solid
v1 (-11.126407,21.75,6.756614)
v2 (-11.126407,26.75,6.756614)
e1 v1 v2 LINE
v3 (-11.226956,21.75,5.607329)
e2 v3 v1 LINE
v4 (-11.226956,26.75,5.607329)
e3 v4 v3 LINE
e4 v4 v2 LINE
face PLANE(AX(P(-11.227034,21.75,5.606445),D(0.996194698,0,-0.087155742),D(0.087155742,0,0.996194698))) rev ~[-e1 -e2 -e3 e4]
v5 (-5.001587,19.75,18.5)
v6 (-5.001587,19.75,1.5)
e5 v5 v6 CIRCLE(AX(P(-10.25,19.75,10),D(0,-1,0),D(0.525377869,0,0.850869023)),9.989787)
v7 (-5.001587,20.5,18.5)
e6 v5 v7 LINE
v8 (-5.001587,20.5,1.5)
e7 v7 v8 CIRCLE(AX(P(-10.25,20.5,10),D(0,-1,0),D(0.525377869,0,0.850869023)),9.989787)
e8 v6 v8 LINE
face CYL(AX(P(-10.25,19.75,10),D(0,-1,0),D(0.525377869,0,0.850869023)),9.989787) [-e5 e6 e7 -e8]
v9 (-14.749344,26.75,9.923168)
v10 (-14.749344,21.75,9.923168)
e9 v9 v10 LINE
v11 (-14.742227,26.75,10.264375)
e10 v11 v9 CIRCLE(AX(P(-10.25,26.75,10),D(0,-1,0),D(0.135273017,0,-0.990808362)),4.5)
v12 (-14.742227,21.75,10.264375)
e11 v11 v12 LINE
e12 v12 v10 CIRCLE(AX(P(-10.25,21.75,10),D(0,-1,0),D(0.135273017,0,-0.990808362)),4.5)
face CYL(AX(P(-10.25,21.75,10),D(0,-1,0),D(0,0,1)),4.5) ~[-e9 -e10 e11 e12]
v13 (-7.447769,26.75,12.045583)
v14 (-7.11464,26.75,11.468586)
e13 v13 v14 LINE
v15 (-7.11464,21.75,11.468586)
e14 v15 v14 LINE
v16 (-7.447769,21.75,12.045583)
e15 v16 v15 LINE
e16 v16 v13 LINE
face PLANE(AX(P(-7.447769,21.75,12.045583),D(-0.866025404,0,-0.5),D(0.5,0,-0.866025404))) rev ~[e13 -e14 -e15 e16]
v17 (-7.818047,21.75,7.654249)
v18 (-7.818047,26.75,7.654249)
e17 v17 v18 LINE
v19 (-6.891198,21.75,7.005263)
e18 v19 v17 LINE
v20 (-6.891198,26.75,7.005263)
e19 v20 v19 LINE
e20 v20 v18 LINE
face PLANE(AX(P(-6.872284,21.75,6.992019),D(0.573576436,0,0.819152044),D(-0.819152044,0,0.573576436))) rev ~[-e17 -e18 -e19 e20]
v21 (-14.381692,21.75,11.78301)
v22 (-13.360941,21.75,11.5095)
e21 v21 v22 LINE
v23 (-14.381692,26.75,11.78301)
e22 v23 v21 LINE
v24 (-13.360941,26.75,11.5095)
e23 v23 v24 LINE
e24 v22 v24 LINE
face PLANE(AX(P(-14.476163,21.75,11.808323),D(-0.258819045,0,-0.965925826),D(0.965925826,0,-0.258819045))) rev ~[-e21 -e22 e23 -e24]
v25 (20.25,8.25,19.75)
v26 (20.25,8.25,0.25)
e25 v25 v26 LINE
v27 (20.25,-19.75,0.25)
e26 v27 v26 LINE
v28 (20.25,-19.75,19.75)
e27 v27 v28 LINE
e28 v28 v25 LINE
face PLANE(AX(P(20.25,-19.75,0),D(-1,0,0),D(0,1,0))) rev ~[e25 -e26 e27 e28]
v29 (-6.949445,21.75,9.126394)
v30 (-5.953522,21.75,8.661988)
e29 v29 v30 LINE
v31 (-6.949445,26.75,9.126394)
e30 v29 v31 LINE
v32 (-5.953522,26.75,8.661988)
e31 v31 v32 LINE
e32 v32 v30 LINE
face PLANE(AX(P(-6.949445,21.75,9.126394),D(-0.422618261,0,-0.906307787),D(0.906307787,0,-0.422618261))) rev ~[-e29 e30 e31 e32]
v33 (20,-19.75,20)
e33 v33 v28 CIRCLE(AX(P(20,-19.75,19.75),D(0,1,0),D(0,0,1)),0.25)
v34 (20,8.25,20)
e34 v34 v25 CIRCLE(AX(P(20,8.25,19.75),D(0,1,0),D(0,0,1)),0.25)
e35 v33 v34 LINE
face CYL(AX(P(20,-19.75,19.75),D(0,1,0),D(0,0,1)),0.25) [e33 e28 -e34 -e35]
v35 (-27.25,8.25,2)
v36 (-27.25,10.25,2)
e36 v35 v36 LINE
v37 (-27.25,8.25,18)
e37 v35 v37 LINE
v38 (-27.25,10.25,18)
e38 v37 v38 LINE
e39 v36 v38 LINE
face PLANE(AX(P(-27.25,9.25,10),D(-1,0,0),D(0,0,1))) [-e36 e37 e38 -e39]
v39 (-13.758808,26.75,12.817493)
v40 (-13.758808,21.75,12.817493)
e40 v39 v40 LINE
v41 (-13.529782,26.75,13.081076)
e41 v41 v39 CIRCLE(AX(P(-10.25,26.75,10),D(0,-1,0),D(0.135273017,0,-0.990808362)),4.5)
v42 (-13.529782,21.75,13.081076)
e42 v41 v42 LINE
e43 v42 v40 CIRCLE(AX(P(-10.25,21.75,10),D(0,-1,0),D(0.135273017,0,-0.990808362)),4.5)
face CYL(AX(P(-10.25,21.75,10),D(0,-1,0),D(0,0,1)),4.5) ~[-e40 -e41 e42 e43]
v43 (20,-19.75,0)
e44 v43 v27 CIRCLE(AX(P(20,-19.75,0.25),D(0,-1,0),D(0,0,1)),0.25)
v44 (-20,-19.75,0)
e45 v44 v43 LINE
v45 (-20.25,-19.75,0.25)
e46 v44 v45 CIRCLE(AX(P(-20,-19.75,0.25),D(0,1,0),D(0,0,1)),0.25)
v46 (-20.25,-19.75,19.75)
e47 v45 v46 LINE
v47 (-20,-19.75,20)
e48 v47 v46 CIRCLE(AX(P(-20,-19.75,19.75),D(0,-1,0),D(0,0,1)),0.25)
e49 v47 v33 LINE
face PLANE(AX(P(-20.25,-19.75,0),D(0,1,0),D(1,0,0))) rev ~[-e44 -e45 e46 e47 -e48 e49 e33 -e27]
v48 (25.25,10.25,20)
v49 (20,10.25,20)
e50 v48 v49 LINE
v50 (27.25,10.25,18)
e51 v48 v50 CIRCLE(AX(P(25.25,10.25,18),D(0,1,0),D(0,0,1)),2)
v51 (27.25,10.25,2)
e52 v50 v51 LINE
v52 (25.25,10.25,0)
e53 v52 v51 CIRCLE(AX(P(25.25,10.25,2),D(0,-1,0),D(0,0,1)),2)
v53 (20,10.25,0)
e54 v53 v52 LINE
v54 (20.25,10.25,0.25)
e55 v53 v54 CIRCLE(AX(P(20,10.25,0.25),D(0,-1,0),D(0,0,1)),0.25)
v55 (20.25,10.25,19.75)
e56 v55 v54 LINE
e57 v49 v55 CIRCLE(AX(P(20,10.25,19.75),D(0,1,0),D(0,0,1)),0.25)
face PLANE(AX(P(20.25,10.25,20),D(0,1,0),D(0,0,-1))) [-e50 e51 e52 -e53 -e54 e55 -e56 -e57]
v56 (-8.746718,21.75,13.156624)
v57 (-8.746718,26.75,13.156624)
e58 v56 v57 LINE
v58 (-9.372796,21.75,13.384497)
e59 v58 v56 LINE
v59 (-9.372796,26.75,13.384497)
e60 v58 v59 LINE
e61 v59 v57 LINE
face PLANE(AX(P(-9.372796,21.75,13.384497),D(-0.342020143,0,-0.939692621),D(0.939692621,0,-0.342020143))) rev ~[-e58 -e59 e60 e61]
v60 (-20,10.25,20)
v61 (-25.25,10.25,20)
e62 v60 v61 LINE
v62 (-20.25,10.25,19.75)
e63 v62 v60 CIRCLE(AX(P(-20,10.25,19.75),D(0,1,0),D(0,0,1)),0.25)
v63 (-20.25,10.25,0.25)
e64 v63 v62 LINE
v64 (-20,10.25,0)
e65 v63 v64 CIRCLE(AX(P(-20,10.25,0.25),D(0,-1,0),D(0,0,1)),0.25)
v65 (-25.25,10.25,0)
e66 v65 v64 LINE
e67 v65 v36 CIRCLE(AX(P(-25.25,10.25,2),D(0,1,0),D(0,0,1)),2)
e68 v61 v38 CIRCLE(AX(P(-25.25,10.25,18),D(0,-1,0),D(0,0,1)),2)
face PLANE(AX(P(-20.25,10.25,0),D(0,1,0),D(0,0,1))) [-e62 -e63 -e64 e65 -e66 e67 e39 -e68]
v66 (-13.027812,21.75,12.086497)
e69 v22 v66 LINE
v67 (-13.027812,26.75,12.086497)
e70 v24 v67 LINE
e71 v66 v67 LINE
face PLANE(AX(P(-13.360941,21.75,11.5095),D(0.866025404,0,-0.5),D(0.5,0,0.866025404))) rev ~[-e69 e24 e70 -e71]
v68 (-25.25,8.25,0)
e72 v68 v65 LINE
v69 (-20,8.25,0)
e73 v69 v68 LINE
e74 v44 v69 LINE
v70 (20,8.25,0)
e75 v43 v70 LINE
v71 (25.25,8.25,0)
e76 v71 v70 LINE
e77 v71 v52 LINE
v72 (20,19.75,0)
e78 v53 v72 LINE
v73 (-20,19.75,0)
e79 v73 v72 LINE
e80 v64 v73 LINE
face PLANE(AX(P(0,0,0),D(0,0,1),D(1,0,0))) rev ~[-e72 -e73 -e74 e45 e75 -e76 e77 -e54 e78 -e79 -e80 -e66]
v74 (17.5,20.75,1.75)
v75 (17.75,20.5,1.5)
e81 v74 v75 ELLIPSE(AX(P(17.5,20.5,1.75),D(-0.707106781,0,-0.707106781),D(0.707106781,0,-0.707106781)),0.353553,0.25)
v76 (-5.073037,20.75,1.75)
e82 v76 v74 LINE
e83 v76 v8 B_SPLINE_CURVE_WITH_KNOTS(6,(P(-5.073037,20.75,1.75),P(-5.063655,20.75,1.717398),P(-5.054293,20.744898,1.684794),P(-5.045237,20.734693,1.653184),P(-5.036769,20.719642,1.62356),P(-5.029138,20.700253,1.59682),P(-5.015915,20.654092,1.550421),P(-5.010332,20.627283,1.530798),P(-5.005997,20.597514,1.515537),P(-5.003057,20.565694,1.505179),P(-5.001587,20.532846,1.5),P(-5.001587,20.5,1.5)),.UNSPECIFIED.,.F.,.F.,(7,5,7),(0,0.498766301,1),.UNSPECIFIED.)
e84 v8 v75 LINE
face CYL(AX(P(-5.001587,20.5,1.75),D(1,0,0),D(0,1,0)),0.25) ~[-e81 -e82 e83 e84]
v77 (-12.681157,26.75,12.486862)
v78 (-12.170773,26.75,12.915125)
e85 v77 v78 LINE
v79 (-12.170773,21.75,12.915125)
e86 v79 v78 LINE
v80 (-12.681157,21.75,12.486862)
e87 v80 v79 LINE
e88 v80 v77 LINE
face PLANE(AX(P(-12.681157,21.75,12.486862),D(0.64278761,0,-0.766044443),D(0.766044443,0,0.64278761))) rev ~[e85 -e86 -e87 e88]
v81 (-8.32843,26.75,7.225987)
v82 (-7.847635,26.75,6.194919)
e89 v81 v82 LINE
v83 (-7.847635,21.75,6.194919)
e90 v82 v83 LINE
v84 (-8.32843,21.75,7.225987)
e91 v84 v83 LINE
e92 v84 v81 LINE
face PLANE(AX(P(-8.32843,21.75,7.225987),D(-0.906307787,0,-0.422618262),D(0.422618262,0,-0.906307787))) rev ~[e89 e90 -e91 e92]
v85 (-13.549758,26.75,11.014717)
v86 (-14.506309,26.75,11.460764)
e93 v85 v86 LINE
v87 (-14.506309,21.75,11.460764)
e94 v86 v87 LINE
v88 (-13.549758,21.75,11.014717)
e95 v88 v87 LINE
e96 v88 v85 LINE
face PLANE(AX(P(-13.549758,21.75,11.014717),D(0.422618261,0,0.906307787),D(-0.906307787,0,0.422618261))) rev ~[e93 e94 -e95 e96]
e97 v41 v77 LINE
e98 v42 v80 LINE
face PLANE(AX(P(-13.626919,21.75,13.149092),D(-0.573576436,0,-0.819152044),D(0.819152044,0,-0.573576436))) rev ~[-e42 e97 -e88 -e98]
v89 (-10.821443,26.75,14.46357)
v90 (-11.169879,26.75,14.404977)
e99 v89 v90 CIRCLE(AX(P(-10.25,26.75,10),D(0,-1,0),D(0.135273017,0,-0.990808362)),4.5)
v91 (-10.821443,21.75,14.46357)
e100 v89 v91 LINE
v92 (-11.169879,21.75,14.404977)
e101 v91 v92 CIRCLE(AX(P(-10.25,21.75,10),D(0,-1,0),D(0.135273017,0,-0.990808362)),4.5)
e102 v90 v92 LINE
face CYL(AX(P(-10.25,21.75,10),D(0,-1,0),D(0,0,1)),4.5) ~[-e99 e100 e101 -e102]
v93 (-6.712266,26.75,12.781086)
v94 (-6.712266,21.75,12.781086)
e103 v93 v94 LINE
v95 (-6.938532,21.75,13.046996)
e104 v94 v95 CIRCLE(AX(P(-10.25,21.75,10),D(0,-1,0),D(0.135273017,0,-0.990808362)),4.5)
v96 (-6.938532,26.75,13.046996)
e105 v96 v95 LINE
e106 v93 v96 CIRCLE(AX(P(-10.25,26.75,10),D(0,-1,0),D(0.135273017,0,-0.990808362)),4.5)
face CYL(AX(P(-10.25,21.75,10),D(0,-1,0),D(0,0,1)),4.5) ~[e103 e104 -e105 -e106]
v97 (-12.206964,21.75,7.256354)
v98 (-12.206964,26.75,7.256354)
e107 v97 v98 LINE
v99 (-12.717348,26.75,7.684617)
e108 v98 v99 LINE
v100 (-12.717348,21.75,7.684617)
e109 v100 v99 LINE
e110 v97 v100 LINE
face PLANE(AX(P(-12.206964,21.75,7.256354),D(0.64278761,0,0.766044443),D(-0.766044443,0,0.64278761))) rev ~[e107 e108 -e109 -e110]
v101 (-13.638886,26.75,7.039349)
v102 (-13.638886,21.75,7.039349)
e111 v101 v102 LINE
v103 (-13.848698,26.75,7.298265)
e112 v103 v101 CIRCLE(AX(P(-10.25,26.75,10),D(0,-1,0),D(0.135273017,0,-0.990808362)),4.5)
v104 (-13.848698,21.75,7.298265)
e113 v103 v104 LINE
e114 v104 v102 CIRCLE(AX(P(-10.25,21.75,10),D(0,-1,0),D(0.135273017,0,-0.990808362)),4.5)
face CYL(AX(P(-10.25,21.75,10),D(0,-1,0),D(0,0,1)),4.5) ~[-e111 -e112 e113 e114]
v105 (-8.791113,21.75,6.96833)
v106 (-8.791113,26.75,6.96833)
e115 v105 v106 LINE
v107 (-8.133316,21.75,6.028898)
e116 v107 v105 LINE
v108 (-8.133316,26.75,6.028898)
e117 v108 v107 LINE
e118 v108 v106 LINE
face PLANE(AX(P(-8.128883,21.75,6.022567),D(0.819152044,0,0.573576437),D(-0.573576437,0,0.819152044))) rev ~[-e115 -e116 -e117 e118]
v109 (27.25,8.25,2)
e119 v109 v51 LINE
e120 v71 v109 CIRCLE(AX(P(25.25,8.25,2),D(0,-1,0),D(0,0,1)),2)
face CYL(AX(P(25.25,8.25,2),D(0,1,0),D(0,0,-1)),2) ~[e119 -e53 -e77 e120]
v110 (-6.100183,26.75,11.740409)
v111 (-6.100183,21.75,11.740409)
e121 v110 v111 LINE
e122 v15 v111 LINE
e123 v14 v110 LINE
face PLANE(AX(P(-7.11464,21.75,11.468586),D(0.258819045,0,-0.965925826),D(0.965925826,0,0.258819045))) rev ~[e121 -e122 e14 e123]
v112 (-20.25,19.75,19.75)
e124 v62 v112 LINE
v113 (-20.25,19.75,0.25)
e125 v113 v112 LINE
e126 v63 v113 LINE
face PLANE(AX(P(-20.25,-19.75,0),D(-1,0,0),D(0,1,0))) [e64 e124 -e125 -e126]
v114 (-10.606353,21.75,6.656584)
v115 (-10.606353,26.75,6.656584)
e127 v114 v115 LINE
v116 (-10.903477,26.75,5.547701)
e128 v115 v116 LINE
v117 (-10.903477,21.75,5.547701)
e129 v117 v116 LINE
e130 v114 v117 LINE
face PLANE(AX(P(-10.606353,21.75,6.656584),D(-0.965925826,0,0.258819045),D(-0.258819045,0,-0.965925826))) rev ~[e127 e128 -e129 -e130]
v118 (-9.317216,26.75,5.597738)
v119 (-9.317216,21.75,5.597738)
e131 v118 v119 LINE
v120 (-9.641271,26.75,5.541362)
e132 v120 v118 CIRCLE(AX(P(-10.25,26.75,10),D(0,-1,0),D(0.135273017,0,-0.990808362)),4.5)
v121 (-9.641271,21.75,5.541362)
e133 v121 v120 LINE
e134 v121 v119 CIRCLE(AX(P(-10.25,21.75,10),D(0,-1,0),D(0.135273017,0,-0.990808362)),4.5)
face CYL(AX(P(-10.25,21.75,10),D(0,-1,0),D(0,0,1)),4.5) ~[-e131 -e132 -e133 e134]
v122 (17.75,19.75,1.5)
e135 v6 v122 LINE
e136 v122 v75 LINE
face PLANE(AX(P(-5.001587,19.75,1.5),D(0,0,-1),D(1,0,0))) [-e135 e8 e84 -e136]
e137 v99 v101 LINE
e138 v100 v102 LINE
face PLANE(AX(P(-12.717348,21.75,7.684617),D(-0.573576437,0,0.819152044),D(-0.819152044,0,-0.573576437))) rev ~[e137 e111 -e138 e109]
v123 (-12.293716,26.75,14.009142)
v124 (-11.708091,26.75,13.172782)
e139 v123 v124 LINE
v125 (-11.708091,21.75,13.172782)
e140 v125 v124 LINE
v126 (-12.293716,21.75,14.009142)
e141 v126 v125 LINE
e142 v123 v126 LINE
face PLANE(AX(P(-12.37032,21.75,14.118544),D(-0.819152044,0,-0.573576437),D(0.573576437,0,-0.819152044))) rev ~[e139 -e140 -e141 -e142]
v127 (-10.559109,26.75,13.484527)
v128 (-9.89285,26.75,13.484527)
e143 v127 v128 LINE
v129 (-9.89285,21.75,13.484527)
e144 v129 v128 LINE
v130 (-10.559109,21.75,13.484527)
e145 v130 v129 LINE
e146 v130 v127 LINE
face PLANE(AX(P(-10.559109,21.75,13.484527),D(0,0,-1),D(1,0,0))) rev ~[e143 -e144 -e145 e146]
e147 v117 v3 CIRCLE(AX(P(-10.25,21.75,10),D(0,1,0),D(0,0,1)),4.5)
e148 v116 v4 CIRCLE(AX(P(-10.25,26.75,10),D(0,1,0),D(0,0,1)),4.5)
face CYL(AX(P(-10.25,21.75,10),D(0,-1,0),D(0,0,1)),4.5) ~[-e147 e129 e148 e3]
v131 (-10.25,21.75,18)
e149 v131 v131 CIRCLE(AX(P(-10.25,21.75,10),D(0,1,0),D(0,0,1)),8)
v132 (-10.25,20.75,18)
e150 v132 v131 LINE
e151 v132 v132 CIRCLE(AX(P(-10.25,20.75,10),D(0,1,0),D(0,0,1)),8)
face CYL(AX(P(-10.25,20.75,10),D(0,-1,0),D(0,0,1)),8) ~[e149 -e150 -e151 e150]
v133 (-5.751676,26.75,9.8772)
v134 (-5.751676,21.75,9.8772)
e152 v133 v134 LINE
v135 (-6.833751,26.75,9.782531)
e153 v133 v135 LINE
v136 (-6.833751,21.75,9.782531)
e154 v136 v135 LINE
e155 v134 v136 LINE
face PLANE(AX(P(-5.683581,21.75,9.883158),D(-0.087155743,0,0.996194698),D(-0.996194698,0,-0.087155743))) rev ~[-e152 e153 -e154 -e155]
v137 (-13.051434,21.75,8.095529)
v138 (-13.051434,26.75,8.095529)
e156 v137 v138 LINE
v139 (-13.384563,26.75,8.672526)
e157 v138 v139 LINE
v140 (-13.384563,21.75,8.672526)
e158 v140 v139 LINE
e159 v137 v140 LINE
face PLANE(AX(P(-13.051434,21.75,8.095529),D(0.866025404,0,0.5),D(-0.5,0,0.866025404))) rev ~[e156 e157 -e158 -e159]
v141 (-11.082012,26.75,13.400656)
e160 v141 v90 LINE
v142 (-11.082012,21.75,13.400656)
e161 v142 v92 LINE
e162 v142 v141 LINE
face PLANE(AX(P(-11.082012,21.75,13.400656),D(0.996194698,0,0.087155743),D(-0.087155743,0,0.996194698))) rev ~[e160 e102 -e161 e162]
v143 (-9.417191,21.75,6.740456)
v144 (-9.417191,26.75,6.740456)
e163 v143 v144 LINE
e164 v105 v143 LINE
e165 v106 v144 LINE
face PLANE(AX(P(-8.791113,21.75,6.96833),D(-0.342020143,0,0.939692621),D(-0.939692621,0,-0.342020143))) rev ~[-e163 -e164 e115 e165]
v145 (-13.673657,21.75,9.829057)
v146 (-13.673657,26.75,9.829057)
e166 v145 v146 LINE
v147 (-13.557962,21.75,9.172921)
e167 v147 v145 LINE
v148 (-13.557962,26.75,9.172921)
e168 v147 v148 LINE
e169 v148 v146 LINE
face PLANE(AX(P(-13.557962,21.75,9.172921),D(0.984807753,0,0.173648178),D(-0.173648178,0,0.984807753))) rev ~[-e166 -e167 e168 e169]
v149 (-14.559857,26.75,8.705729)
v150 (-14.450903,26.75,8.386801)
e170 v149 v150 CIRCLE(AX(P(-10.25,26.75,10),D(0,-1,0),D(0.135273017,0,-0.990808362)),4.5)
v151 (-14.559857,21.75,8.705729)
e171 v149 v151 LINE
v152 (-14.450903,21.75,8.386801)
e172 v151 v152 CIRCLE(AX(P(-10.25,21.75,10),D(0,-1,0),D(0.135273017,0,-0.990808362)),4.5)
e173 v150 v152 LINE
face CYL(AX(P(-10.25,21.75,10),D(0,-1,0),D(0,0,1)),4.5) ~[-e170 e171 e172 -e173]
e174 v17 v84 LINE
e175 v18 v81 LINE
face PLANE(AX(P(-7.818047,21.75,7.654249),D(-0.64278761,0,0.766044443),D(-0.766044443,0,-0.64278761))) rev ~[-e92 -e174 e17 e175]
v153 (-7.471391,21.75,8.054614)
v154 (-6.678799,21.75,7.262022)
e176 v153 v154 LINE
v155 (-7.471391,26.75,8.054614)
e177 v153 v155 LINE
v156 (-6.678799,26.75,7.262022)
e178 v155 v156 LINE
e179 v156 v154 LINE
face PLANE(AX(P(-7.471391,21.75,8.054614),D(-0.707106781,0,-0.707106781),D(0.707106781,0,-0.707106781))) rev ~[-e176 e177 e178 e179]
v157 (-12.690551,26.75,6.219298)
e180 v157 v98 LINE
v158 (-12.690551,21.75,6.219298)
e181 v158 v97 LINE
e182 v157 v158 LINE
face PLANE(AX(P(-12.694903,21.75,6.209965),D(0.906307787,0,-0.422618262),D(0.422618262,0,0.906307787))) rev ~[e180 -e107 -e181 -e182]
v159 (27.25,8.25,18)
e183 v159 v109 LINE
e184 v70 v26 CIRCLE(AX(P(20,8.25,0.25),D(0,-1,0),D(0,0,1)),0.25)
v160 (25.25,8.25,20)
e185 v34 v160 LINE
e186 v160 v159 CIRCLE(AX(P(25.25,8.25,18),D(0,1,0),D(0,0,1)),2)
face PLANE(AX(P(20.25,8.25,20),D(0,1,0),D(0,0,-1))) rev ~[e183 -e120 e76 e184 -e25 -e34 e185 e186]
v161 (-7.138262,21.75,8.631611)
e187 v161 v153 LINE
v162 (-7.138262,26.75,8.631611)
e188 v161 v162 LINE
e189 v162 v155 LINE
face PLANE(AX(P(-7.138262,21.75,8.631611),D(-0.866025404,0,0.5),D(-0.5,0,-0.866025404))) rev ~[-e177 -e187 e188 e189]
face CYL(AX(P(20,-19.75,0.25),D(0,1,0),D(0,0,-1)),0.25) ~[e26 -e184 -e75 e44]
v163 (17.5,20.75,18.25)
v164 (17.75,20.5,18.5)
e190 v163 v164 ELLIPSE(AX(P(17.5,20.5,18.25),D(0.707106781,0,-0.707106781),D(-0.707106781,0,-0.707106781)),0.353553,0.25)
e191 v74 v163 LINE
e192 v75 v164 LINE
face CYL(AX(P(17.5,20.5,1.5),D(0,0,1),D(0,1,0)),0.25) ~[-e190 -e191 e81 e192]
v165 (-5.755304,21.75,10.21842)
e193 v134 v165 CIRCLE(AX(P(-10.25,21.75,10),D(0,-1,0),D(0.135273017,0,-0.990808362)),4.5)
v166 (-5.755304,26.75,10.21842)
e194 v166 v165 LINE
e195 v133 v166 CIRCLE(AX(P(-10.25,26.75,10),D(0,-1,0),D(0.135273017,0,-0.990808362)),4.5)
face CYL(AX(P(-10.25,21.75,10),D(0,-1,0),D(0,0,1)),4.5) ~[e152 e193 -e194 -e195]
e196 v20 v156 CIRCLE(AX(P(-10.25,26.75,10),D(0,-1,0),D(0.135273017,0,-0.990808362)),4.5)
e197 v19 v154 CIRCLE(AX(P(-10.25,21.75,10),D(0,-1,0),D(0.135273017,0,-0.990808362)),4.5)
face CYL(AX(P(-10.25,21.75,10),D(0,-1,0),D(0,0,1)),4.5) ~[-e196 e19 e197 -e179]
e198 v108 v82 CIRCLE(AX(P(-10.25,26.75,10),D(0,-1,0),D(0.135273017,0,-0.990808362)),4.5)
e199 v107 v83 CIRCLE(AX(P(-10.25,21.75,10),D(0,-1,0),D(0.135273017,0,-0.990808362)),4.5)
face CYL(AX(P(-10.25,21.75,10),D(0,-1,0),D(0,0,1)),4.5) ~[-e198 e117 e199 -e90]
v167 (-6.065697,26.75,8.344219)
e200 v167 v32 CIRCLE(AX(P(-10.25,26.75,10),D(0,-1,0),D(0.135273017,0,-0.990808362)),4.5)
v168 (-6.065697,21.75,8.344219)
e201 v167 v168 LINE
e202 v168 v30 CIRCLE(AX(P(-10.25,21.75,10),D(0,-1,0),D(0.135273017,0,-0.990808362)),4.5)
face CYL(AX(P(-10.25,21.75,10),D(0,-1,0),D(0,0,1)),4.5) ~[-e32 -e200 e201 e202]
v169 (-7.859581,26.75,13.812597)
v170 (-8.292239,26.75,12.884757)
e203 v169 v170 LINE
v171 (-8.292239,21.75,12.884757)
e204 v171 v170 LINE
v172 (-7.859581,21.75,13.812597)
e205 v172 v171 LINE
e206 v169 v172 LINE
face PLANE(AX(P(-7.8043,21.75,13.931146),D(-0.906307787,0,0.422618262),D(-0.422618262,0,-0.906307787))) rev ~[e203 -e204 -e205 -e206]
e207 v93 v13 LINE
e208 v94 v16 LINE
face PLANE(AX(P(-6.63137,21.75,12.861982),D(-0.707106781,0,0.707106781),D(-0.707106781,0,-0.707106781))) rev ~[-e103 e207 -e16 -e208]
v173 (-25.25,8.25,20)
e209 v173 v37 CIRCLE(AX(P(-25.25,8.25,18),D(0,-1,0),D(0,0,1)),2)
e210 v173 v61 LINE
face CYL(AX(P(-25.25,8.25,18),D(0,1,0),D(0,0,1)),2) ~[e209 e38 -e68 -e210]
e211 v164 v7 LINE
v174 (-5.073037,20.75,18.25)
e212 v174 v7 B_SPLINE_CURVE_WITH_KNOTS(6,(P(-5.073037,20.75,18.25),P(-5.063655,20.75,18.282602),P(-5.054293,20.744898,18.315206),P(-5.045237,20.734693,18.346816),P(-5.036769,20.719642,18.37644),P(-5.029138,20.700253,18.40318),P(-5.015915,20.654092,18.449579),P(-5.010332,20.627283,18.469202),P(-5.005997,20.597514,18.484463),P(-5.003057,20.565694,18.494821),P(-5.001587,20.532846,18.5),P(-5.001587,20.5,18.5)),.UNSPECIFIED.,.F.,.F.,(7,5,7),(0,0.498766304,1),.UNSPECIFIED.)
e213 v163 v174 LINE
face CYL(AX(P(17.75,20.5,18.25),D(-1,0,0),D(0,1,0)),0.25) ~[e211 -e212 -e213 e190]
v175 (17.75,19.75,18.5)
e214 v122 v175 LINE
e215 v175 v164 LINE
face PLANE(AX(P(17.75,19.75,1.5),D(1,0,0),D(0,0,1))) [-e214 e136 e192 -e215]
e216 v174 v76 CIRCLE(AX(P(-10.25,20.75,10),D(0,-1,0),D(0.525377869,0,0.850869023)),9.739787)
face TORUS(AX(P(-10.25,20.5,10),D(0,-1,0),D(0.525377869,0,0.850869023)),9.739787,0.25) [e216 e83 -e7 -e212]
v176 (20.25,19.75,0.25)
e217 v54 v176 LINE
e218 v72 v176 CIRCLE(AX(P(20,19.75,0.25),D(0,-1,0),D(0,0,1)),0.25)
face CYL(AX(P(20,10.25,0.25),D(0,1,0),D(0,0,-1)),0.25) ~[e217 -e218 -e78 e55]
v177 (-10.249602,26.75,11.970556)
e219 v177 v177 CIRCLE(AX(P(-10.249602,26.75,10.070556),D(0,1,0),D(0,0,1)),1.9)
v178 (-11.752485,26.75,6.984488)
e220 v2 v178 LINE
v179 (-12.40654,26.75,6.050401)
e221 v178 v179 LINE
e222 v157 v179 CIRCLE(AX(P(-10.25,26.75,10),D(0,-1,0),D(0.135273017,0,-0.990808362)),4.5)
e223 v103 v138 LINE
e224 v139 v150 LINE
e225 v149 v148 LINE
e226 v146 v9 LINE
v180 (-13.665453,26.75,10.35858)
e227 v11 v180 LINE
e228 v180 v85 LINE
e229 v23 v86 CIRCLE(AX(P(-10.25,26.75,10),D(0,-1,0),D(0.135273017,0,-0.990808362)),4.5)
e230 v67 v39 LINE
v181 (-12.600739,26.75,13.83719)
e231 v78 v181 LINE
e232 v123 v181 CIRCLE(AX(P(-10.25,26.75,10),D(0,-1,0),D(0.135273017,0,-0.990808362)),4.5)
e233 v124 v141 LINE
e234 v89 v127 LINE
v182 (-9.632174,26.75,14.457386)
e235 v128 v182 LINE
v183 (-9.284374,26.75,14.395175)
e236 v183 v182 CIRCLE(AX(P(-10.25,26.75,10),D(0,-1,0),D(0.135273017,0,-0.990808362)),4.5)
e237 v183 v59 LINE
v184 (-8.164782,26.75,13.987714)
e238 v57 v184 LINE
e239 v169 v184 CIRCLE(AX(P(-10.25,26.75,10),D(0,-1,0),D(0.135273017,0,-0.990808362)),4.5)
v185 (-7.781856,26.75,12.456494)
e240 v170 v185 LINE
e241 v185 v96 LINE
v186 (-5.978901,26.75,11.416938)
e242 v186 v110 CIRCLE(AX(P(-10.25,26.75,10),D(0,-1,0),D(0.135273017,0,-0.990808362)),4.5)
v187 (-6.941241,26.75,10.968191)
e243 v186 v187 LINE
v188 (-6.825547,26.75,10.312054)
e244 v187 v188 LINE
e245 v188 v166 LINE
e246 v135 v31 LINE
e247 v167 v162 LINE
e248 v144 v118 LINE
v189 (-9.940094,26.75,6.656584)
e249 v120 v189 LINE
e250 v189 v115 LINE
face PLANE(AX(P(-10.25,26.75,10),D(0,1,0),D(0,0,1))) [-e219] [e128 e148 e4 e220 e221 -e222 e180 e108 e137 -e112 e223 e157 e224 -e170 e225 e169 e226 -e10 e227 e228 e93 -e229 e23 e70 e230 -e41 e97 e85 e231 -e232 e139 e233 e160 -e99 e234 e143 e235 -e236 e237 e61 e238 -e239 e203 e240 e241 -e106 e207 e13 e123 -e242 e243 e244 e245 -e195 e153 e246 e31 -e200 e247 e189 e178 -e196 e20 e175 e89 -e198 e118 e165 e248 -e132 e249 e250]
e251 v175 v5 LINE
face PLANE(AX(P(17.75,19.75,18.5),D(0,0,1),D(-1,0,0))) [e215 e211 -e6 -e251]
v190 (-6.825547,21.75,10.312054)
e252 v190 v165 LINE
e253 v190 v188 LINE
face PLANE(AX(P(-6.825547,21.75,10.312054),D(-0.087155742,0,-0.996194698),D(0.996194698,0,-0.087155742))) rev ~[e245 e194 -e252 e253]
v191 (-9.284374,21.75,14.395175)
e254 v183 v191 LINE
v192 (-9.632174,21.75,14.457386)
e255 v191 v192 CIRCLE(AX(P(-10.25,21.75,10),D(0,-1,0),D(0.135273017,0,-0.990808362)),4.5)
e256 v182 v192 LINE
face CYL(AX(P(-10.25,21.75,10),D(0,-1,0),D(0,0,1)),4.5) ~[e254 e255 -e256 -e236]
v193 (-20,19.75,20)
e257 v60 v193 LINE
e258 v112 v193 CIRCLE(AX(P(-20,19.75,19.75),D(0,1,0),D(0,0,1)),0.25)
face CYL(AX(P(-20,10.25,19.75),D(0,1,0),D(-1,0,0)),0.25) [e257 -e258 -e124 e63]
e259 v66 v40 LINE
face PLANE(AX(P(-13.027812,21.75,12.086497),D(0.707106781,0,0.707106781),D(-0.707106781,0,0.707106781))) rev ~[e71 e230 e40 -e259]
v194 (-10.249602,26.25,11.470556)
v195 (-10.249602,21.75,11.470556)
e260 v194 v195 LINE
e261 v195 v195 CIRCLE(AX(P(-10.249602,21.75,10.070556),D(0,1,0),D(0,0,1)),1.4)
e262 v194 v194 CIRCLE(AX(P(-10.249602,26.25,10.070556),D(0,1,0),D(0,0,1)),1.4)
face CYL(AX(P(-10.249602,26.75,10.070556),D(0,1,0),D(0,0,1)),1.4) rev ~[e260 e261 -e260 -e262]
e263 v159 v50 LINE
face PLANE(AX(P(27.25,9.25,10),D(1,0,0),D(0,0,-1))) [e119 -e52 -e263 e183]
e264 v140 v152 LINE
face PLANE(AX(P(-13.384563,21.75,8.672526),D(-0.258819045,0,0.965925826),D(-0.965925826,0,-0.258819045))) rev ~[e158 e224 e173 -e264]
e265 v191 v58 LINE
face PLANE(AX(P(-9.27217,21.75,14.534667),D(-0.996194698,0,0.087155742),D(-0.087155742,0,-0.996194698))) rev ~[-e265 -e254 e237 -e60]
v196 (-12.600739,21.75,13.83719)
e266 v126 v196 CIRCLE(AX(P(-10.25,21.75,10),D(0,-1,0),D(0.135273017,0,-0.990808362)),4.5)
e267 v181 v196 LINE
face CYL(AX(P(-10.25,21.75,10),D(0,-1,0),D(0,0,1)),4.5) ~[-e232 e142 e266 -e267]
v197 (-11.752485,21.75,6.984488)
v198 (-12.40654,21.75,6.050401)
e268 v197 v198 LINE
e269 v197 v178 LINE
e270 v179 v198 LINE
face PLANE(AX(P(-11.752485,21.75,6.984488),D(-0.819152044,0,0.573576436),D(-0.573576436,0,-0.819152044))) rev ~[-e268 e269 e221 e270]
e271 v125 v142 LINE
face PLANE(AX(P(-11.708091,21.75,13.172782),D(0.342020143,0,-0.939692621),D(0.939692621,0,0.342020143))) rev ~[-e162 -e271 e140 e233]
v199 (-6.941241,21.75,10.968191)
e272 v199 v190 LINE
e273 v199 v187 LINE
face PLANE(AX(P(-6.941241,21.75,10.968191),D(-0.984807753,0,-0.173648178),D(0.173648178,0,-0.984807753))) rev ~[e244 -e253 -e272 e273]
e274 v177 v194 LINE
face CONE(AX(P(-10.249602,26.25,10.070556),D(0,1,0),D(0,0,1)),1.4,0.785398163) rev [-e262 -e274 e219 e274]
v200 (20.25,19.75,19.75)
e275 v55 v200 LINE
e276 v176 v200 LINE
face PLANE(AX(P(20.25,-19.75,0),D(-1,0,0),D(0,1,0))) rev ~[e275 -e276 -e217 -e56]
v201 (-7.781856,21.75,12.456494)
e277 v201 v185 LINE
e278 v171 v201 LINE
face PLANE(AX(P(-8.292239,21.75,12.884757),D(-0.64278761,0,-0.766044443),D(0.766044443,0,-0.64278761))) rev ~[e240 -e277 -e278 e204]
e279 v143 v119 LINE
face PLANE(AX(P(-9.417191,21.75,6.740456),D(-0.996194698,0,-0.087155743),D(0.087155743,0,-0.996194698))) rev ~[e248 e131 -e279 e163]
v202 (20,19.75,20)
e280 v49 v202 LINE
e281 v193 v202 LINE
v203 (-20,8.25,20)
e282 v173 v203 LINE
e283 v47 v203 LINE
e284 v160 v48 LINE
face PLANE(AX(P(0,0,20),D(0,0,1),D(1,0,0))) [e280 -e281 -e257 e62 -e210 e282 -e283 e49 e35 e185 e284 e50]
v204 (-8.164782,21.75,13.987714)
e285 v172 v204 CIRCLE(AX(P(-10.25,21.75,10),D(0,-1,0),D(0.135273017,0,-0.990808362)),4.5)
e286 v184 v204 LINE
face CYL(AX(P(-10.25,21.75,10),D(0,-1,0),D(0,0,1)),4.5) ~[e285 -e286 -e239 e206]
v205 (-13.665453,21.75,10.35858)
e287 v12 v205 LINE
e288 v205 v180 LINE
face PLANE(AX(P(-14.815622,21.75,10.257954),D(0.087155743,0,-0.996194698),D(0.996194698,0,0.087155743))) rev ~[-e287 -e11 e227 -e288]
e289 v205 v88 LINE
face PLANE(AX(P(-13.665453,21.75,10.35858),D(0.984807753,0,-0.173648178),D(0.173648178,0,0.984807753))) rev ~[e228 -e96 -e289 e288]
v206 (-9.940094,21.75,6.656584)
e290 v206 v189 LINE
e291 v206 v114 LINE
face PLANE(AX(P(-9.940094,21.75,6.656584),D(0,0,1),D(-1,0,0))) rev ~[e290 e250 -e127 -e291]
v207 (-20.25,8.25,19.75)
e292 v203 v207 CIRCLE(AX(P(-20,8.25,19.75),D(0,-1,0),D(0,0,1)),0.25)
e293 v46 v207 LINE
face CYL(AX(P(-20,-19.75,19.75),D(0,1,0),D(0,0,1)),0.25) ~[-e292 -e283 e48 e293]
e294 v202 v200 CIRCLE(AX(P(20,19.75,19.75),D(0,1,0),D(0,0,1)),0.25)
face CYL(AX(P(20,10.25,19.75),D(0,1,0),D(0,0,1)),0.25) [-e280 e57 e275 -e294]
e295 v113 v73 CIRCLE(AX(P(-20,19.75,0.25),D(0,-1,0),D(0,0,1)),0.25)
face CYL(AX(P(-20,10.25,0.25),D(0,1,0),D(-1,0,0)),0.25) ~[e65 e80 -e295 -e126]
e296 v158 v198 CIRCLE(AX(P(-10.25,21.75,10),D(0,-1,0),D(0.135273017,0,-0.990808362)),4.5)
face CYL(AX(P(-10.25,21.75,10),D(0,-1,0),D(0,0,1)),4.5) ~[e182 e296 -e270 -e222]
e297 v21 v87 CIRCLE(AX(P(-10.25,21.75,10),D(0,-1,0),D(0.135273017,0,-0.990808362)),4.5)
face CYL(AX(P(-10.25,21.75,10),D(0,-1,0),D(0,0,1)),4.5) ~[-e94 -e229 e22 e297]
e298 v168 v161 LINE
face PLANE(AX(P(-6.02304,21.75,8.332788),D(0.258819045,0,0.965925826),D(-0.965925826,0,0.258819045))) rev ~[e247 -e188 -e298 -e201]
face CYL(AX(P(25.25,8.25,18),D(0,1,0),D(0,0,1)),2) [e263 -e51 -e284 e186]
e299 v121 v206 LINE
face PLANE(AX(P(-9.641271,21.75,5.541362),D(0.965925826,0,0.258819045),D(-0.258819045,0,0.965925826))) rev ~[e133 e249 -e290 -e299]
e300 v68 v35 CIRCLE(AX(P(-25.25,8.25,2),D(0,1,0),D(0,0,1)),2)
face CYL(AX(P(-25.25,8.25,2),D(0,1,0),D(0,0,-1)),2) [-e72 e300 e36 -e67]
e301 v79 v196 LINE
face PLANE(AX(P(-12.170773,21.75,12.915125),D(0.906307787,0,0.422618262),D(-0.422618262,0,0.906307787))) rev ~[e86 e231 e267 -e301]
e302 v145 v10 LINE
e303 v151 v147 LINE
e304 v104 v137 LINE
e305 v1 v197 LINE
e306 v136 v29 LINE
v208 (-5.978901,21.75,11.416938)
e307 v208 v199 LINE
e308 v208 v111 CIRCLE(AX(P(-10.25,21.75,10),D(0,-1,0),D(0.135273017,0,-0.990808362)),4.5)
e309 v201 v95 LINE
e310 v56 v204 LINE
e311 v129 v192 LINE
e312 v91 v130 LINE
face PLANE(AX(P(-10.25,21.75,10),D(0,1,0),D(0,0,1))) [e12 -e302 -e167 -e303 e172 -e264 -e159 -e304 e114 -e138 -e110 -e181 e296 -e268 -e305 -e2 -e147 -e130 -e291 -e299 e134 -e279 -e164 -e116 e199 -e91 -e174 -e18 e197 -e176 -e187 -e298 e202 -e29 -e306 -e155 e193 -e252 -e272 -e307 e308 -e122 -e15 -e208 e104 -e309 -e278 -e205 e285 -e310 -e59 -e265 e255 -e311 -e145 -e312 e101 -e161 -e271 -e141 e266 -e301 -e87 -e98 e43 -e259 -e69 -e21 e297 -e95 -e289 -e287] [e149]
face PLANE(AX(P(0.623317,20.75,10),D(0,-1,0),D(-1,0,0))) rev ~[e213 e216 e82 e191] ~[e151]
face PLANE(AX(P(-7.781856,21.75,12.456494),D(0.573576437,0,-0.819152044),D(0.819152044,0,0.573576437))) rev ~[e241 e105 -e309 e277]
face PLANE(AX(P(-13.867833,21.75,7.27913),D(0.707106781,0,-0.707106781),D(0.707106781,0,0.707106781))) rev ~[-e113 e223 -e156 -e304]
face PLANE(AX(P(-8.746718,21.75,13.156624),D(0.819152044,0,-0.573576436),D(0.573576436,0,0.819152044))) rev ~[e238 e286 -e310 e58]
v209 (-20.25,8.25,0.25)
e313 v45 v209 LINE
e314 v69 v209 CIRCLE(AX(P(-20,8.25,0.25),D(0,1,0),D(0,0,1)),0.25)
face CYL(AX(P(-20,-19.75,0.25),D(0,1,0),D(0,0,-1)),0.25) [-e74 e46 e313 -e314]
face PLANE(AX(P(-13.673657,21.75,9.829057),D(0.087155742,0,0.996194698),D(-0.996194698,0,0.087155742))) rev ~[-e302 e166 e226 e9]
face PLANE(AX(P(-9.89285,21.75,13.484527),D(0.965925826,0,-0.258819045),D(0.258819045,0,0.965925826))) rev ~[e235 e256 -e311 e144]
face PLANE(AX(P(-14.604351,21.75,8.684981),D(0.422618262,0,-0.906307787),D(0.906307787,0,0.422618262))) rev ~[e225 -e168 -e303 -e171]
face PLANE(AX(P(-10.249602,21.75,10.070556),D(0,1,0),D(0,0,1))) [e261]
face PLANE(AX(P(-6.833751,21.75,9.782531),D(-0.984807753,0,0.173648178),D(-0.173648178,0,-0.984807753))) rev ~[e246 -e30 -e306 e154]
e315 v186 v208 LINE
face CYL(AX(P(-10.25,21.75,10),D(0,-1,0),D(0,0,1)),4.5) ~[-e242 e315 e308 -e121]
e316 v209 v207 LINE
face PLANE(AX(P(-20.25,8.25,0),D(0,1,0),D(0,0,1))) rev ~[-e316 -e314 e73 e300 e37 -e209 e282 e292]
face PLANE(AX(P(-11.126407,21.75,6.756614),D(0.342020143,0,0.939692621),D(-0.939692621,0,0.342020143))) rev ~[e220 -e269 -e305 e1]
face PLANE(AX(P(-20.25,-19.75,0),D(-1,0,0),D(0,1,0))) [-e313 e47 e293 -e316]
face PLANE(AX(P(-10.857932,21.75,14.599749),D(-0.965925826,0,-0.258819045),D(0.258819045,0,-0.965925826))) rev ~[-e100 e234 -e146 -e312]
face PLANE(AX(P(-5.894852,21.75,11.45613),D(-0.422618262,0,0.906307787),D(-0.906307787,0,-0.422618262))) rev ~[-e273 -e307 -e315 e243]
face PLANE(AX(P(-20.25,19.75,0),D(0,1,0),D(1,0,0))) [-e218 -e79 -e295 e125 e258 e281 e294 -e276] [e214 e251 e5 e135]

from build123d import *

# Parameters (mm, degrees)
ESQUISSE1_W                  = 40.5
ESQUISSE1_H                  = 39.5
BOSS_EXTRU_1_DEPTH           = 20
ESQUISSE2_W                  = 20
ESQUISSE2_H                  = 2
BOSS_EXTRU_2_DEPTH           = 7
ESQUISSE3_W                  = 20
ESQUISSE3_H                  = 2
BOSS_EXTRU_3_DEPTH           = 7
CONG_1_R                     = 2
BOSS_EXTRU_4_DEPTH           = 1
ESQUISSE6_R                  = 8
BOSS_EXTRU_5_DEPTH           = 1
ESQUISSE7_R                  = 4.5
BOSS_EXTRU_6_DEPTH           = 5
ENL_V_START                  = -5
ENL_V_MAT_EXTRU_2_DEPTH      = 5
R_P_TITION_CIRCULAIRE2_COUNT = 18
ESQUISSE9_R                  = 1.4
ENL_V_MAT_EXTRU_3_DEPTH      = 5
CHANFREIN1_SIZE              = 0.5
CONG_3_R                     = 0.25
CONG_4_R                     = 0.25


with BuildPart() as part:
    # Esquisse1 → Boss.-Extru.1 (new body)
    with BuildSketch(Plane.XY):
        Rectangle(ESQUISSE1_W, ESQUISSE1_H)
    extrude(amount=BOSS_EXTRU_1_DEPTH)

    # Esquisse2 → Boss.-Extru.2 (add)
    with BuildSketch(Plane.ZY.offset(20.25)):
        with Locations((10, 9.25)):
            Rectangle(ESQUISSE2_W, ESQUISSE2_H)
    extrude(amount=BOSS_EXTRU_2_DEPTH)

    # Esquisse3 → Boss.-Extru.3 (add)
    with BuildSketch(Plane(origin=(20.25, 0, 0), x_dir=(0, 0, -1), z_dir=(1, 0, 0))):
        with Locations((-10, 9.25)):
            Rectangle(ESQUISSE3_W, ESQUISSE3_H)
    extrude(amount=BOSS_EXTRU_3_DEPTH)

    # Congé1
    cong_1_edges = [part.edges().sort_by_distance(p)[0] for p in [
        (-27.25, 9.25, 0),
        (-27.25, 9.25, 20),
        (27.25, 9.25, 20),
        (27.25, 9.25, 0),
    ]]
    fillet(cong_1_edges, radius=CONG_1_R)

    # Esquisse4 → Boss.-Extru.4 (add)
    with BuildSketch(Plane(origin=(0, 19.75, 0), x_dir=(1, 0, 0), z_dir=(0, 1, 0))):
        with BuildLine():
            Line((17.75, -1.5), (17.75, -18.5))
            Line((17.75, -18.5), (-5.001587186, -18.5))
            ThreePointArc((-5.001587186, -18.5), (-20.239786638, -10), (-5.001587186, -1.5))
            Line((-5.001587186, -1.5), (17.75, -1.5))
        make_face()
    extrude(amount=BOSS_EXTRU_4_DEPTH)

    # Esquisse6 → Boss.-Extru.5 (add)
    with BuildSketch(Plane(origin=(0, 20.75, 0), x_dir=(1, 0, 0), z_dir=(0, 1, 0))):
        with Locations(Location((-10.25, -10, 0), (0, 0, 270))):
            Circle(ESQUISSE6_R)
    extrude(amount=BOSS_EXTRU_5_DEPTH)

    # Esquisse7 → Boss.-Extru.6 (add)
    with BuildSketch(Plane(origin=(0, 21.75, 0), x_dir=(1, 0, 0), z_dir=(0, 1, 0))):
        with Locations(Location((-10.25, -10, 0), (0, 0, 270))):
            Circle(ESQUISSE7_R)
    extrude(amount=BOSS_EXTRU_6_DEPTH)

    # Esquisse8 → Enlèv. mat.-Extru.2 (cut)
    with BuildSketch(Plane(origin=(0, 26.75, 0), x_dir=(1, 0, 0), z_dir=(0, 1, 0)).offset(ENL_V_START)):
        with BuildLine():
            Line((-10.606352849, -6.656584169), (-10.903477232, -5.547700874))
            ThreePointArc((-10.903477232, -5.547700874), (-10.272597671, -5.50005674), (-9.641271425, -5.541362369))
            Line((-9.641271425, -5.541362369), (-9.940094206, -6.656584169))
            Line((-9.940094206, -6.656584169), (-10.606352849, -6.656584169))
        make_face()
    enl_v_mat_extru_2 = extrude(amount=ENL_V_MAT_EXTRU_2_DEPTH, mode=Mode.SUBTRACT)

    # Répétition circulaire2: Enlèv. mat.-Extru.2 ×18 about axis
    r_p_tition_circulaire2_axis = Axis((-10.249601616, 0, 10.07055578), (0, 1, 0))
    for i in range(1, R_P_TITION_CIRCULAIRE2_COUNT):
        add(enl_v_mat_extru_2.rotate(r_p_tition_circulaire2_axis, i * 360 / R_P_TITION_CIRCULAIRE2_COUNT), mode=Mode.SUBTRACT)

    # Esquisse9 → Enlèv. mat.-Extru.3 (cut)
    with BuildSketch(Plane(origin=(0, 26.75, 0), x_dir=(1, 0, 0), z_dir=(0, 1, 0))):
        with Locations(Location((-10.249601616, -10.07055578, 0), (0, 0, 270))):
            Circle(ESQUISSE9_R)
    extrude(amount=-ENL_V_MAT_EXTRU_3_DEPTH, mode=Mode.SUBTRACT)

    # Chanfrein1
    chanfrein1_edges = [part.edges().sort_by_distance(p)[0] for p in [
        (-10.249601616, 26.75, 8.67055578),
    ]]
    chamfer(chanfrein1_edges, length=CHANFREIN1_SIZE)

    # Congé3
    cong_3_edges = [part.edges().sort_by_distance(p)[0] for p in [
        (6.374206407, 20.75, 1.5),
        (-20.239786638, 20.75, 10),
        (6.374206407, 20.75, 18.5),
        (17.75, 20.75, 10),
    ]]
    fillet(cong_3_edges, radius=CONG_3_R)

    # Congé4
    cong_4_edges = [part.edges().sort_by_distance(p)[0] for p in [
        (-20.25, 15, 20),
        (-20.25, -5.75, 0),
        (-20.25, -5.75, 20),
        (20.25, 15, 0),
        (20.25, 15, 20),
        (20.25, -5.75, 20),
        (-20.25, 15, 0),
        (20.25, -5.75, 0),
    ]]
    fillet(cong_4_edges, radius=CONG_4_R)


solid = part.part
